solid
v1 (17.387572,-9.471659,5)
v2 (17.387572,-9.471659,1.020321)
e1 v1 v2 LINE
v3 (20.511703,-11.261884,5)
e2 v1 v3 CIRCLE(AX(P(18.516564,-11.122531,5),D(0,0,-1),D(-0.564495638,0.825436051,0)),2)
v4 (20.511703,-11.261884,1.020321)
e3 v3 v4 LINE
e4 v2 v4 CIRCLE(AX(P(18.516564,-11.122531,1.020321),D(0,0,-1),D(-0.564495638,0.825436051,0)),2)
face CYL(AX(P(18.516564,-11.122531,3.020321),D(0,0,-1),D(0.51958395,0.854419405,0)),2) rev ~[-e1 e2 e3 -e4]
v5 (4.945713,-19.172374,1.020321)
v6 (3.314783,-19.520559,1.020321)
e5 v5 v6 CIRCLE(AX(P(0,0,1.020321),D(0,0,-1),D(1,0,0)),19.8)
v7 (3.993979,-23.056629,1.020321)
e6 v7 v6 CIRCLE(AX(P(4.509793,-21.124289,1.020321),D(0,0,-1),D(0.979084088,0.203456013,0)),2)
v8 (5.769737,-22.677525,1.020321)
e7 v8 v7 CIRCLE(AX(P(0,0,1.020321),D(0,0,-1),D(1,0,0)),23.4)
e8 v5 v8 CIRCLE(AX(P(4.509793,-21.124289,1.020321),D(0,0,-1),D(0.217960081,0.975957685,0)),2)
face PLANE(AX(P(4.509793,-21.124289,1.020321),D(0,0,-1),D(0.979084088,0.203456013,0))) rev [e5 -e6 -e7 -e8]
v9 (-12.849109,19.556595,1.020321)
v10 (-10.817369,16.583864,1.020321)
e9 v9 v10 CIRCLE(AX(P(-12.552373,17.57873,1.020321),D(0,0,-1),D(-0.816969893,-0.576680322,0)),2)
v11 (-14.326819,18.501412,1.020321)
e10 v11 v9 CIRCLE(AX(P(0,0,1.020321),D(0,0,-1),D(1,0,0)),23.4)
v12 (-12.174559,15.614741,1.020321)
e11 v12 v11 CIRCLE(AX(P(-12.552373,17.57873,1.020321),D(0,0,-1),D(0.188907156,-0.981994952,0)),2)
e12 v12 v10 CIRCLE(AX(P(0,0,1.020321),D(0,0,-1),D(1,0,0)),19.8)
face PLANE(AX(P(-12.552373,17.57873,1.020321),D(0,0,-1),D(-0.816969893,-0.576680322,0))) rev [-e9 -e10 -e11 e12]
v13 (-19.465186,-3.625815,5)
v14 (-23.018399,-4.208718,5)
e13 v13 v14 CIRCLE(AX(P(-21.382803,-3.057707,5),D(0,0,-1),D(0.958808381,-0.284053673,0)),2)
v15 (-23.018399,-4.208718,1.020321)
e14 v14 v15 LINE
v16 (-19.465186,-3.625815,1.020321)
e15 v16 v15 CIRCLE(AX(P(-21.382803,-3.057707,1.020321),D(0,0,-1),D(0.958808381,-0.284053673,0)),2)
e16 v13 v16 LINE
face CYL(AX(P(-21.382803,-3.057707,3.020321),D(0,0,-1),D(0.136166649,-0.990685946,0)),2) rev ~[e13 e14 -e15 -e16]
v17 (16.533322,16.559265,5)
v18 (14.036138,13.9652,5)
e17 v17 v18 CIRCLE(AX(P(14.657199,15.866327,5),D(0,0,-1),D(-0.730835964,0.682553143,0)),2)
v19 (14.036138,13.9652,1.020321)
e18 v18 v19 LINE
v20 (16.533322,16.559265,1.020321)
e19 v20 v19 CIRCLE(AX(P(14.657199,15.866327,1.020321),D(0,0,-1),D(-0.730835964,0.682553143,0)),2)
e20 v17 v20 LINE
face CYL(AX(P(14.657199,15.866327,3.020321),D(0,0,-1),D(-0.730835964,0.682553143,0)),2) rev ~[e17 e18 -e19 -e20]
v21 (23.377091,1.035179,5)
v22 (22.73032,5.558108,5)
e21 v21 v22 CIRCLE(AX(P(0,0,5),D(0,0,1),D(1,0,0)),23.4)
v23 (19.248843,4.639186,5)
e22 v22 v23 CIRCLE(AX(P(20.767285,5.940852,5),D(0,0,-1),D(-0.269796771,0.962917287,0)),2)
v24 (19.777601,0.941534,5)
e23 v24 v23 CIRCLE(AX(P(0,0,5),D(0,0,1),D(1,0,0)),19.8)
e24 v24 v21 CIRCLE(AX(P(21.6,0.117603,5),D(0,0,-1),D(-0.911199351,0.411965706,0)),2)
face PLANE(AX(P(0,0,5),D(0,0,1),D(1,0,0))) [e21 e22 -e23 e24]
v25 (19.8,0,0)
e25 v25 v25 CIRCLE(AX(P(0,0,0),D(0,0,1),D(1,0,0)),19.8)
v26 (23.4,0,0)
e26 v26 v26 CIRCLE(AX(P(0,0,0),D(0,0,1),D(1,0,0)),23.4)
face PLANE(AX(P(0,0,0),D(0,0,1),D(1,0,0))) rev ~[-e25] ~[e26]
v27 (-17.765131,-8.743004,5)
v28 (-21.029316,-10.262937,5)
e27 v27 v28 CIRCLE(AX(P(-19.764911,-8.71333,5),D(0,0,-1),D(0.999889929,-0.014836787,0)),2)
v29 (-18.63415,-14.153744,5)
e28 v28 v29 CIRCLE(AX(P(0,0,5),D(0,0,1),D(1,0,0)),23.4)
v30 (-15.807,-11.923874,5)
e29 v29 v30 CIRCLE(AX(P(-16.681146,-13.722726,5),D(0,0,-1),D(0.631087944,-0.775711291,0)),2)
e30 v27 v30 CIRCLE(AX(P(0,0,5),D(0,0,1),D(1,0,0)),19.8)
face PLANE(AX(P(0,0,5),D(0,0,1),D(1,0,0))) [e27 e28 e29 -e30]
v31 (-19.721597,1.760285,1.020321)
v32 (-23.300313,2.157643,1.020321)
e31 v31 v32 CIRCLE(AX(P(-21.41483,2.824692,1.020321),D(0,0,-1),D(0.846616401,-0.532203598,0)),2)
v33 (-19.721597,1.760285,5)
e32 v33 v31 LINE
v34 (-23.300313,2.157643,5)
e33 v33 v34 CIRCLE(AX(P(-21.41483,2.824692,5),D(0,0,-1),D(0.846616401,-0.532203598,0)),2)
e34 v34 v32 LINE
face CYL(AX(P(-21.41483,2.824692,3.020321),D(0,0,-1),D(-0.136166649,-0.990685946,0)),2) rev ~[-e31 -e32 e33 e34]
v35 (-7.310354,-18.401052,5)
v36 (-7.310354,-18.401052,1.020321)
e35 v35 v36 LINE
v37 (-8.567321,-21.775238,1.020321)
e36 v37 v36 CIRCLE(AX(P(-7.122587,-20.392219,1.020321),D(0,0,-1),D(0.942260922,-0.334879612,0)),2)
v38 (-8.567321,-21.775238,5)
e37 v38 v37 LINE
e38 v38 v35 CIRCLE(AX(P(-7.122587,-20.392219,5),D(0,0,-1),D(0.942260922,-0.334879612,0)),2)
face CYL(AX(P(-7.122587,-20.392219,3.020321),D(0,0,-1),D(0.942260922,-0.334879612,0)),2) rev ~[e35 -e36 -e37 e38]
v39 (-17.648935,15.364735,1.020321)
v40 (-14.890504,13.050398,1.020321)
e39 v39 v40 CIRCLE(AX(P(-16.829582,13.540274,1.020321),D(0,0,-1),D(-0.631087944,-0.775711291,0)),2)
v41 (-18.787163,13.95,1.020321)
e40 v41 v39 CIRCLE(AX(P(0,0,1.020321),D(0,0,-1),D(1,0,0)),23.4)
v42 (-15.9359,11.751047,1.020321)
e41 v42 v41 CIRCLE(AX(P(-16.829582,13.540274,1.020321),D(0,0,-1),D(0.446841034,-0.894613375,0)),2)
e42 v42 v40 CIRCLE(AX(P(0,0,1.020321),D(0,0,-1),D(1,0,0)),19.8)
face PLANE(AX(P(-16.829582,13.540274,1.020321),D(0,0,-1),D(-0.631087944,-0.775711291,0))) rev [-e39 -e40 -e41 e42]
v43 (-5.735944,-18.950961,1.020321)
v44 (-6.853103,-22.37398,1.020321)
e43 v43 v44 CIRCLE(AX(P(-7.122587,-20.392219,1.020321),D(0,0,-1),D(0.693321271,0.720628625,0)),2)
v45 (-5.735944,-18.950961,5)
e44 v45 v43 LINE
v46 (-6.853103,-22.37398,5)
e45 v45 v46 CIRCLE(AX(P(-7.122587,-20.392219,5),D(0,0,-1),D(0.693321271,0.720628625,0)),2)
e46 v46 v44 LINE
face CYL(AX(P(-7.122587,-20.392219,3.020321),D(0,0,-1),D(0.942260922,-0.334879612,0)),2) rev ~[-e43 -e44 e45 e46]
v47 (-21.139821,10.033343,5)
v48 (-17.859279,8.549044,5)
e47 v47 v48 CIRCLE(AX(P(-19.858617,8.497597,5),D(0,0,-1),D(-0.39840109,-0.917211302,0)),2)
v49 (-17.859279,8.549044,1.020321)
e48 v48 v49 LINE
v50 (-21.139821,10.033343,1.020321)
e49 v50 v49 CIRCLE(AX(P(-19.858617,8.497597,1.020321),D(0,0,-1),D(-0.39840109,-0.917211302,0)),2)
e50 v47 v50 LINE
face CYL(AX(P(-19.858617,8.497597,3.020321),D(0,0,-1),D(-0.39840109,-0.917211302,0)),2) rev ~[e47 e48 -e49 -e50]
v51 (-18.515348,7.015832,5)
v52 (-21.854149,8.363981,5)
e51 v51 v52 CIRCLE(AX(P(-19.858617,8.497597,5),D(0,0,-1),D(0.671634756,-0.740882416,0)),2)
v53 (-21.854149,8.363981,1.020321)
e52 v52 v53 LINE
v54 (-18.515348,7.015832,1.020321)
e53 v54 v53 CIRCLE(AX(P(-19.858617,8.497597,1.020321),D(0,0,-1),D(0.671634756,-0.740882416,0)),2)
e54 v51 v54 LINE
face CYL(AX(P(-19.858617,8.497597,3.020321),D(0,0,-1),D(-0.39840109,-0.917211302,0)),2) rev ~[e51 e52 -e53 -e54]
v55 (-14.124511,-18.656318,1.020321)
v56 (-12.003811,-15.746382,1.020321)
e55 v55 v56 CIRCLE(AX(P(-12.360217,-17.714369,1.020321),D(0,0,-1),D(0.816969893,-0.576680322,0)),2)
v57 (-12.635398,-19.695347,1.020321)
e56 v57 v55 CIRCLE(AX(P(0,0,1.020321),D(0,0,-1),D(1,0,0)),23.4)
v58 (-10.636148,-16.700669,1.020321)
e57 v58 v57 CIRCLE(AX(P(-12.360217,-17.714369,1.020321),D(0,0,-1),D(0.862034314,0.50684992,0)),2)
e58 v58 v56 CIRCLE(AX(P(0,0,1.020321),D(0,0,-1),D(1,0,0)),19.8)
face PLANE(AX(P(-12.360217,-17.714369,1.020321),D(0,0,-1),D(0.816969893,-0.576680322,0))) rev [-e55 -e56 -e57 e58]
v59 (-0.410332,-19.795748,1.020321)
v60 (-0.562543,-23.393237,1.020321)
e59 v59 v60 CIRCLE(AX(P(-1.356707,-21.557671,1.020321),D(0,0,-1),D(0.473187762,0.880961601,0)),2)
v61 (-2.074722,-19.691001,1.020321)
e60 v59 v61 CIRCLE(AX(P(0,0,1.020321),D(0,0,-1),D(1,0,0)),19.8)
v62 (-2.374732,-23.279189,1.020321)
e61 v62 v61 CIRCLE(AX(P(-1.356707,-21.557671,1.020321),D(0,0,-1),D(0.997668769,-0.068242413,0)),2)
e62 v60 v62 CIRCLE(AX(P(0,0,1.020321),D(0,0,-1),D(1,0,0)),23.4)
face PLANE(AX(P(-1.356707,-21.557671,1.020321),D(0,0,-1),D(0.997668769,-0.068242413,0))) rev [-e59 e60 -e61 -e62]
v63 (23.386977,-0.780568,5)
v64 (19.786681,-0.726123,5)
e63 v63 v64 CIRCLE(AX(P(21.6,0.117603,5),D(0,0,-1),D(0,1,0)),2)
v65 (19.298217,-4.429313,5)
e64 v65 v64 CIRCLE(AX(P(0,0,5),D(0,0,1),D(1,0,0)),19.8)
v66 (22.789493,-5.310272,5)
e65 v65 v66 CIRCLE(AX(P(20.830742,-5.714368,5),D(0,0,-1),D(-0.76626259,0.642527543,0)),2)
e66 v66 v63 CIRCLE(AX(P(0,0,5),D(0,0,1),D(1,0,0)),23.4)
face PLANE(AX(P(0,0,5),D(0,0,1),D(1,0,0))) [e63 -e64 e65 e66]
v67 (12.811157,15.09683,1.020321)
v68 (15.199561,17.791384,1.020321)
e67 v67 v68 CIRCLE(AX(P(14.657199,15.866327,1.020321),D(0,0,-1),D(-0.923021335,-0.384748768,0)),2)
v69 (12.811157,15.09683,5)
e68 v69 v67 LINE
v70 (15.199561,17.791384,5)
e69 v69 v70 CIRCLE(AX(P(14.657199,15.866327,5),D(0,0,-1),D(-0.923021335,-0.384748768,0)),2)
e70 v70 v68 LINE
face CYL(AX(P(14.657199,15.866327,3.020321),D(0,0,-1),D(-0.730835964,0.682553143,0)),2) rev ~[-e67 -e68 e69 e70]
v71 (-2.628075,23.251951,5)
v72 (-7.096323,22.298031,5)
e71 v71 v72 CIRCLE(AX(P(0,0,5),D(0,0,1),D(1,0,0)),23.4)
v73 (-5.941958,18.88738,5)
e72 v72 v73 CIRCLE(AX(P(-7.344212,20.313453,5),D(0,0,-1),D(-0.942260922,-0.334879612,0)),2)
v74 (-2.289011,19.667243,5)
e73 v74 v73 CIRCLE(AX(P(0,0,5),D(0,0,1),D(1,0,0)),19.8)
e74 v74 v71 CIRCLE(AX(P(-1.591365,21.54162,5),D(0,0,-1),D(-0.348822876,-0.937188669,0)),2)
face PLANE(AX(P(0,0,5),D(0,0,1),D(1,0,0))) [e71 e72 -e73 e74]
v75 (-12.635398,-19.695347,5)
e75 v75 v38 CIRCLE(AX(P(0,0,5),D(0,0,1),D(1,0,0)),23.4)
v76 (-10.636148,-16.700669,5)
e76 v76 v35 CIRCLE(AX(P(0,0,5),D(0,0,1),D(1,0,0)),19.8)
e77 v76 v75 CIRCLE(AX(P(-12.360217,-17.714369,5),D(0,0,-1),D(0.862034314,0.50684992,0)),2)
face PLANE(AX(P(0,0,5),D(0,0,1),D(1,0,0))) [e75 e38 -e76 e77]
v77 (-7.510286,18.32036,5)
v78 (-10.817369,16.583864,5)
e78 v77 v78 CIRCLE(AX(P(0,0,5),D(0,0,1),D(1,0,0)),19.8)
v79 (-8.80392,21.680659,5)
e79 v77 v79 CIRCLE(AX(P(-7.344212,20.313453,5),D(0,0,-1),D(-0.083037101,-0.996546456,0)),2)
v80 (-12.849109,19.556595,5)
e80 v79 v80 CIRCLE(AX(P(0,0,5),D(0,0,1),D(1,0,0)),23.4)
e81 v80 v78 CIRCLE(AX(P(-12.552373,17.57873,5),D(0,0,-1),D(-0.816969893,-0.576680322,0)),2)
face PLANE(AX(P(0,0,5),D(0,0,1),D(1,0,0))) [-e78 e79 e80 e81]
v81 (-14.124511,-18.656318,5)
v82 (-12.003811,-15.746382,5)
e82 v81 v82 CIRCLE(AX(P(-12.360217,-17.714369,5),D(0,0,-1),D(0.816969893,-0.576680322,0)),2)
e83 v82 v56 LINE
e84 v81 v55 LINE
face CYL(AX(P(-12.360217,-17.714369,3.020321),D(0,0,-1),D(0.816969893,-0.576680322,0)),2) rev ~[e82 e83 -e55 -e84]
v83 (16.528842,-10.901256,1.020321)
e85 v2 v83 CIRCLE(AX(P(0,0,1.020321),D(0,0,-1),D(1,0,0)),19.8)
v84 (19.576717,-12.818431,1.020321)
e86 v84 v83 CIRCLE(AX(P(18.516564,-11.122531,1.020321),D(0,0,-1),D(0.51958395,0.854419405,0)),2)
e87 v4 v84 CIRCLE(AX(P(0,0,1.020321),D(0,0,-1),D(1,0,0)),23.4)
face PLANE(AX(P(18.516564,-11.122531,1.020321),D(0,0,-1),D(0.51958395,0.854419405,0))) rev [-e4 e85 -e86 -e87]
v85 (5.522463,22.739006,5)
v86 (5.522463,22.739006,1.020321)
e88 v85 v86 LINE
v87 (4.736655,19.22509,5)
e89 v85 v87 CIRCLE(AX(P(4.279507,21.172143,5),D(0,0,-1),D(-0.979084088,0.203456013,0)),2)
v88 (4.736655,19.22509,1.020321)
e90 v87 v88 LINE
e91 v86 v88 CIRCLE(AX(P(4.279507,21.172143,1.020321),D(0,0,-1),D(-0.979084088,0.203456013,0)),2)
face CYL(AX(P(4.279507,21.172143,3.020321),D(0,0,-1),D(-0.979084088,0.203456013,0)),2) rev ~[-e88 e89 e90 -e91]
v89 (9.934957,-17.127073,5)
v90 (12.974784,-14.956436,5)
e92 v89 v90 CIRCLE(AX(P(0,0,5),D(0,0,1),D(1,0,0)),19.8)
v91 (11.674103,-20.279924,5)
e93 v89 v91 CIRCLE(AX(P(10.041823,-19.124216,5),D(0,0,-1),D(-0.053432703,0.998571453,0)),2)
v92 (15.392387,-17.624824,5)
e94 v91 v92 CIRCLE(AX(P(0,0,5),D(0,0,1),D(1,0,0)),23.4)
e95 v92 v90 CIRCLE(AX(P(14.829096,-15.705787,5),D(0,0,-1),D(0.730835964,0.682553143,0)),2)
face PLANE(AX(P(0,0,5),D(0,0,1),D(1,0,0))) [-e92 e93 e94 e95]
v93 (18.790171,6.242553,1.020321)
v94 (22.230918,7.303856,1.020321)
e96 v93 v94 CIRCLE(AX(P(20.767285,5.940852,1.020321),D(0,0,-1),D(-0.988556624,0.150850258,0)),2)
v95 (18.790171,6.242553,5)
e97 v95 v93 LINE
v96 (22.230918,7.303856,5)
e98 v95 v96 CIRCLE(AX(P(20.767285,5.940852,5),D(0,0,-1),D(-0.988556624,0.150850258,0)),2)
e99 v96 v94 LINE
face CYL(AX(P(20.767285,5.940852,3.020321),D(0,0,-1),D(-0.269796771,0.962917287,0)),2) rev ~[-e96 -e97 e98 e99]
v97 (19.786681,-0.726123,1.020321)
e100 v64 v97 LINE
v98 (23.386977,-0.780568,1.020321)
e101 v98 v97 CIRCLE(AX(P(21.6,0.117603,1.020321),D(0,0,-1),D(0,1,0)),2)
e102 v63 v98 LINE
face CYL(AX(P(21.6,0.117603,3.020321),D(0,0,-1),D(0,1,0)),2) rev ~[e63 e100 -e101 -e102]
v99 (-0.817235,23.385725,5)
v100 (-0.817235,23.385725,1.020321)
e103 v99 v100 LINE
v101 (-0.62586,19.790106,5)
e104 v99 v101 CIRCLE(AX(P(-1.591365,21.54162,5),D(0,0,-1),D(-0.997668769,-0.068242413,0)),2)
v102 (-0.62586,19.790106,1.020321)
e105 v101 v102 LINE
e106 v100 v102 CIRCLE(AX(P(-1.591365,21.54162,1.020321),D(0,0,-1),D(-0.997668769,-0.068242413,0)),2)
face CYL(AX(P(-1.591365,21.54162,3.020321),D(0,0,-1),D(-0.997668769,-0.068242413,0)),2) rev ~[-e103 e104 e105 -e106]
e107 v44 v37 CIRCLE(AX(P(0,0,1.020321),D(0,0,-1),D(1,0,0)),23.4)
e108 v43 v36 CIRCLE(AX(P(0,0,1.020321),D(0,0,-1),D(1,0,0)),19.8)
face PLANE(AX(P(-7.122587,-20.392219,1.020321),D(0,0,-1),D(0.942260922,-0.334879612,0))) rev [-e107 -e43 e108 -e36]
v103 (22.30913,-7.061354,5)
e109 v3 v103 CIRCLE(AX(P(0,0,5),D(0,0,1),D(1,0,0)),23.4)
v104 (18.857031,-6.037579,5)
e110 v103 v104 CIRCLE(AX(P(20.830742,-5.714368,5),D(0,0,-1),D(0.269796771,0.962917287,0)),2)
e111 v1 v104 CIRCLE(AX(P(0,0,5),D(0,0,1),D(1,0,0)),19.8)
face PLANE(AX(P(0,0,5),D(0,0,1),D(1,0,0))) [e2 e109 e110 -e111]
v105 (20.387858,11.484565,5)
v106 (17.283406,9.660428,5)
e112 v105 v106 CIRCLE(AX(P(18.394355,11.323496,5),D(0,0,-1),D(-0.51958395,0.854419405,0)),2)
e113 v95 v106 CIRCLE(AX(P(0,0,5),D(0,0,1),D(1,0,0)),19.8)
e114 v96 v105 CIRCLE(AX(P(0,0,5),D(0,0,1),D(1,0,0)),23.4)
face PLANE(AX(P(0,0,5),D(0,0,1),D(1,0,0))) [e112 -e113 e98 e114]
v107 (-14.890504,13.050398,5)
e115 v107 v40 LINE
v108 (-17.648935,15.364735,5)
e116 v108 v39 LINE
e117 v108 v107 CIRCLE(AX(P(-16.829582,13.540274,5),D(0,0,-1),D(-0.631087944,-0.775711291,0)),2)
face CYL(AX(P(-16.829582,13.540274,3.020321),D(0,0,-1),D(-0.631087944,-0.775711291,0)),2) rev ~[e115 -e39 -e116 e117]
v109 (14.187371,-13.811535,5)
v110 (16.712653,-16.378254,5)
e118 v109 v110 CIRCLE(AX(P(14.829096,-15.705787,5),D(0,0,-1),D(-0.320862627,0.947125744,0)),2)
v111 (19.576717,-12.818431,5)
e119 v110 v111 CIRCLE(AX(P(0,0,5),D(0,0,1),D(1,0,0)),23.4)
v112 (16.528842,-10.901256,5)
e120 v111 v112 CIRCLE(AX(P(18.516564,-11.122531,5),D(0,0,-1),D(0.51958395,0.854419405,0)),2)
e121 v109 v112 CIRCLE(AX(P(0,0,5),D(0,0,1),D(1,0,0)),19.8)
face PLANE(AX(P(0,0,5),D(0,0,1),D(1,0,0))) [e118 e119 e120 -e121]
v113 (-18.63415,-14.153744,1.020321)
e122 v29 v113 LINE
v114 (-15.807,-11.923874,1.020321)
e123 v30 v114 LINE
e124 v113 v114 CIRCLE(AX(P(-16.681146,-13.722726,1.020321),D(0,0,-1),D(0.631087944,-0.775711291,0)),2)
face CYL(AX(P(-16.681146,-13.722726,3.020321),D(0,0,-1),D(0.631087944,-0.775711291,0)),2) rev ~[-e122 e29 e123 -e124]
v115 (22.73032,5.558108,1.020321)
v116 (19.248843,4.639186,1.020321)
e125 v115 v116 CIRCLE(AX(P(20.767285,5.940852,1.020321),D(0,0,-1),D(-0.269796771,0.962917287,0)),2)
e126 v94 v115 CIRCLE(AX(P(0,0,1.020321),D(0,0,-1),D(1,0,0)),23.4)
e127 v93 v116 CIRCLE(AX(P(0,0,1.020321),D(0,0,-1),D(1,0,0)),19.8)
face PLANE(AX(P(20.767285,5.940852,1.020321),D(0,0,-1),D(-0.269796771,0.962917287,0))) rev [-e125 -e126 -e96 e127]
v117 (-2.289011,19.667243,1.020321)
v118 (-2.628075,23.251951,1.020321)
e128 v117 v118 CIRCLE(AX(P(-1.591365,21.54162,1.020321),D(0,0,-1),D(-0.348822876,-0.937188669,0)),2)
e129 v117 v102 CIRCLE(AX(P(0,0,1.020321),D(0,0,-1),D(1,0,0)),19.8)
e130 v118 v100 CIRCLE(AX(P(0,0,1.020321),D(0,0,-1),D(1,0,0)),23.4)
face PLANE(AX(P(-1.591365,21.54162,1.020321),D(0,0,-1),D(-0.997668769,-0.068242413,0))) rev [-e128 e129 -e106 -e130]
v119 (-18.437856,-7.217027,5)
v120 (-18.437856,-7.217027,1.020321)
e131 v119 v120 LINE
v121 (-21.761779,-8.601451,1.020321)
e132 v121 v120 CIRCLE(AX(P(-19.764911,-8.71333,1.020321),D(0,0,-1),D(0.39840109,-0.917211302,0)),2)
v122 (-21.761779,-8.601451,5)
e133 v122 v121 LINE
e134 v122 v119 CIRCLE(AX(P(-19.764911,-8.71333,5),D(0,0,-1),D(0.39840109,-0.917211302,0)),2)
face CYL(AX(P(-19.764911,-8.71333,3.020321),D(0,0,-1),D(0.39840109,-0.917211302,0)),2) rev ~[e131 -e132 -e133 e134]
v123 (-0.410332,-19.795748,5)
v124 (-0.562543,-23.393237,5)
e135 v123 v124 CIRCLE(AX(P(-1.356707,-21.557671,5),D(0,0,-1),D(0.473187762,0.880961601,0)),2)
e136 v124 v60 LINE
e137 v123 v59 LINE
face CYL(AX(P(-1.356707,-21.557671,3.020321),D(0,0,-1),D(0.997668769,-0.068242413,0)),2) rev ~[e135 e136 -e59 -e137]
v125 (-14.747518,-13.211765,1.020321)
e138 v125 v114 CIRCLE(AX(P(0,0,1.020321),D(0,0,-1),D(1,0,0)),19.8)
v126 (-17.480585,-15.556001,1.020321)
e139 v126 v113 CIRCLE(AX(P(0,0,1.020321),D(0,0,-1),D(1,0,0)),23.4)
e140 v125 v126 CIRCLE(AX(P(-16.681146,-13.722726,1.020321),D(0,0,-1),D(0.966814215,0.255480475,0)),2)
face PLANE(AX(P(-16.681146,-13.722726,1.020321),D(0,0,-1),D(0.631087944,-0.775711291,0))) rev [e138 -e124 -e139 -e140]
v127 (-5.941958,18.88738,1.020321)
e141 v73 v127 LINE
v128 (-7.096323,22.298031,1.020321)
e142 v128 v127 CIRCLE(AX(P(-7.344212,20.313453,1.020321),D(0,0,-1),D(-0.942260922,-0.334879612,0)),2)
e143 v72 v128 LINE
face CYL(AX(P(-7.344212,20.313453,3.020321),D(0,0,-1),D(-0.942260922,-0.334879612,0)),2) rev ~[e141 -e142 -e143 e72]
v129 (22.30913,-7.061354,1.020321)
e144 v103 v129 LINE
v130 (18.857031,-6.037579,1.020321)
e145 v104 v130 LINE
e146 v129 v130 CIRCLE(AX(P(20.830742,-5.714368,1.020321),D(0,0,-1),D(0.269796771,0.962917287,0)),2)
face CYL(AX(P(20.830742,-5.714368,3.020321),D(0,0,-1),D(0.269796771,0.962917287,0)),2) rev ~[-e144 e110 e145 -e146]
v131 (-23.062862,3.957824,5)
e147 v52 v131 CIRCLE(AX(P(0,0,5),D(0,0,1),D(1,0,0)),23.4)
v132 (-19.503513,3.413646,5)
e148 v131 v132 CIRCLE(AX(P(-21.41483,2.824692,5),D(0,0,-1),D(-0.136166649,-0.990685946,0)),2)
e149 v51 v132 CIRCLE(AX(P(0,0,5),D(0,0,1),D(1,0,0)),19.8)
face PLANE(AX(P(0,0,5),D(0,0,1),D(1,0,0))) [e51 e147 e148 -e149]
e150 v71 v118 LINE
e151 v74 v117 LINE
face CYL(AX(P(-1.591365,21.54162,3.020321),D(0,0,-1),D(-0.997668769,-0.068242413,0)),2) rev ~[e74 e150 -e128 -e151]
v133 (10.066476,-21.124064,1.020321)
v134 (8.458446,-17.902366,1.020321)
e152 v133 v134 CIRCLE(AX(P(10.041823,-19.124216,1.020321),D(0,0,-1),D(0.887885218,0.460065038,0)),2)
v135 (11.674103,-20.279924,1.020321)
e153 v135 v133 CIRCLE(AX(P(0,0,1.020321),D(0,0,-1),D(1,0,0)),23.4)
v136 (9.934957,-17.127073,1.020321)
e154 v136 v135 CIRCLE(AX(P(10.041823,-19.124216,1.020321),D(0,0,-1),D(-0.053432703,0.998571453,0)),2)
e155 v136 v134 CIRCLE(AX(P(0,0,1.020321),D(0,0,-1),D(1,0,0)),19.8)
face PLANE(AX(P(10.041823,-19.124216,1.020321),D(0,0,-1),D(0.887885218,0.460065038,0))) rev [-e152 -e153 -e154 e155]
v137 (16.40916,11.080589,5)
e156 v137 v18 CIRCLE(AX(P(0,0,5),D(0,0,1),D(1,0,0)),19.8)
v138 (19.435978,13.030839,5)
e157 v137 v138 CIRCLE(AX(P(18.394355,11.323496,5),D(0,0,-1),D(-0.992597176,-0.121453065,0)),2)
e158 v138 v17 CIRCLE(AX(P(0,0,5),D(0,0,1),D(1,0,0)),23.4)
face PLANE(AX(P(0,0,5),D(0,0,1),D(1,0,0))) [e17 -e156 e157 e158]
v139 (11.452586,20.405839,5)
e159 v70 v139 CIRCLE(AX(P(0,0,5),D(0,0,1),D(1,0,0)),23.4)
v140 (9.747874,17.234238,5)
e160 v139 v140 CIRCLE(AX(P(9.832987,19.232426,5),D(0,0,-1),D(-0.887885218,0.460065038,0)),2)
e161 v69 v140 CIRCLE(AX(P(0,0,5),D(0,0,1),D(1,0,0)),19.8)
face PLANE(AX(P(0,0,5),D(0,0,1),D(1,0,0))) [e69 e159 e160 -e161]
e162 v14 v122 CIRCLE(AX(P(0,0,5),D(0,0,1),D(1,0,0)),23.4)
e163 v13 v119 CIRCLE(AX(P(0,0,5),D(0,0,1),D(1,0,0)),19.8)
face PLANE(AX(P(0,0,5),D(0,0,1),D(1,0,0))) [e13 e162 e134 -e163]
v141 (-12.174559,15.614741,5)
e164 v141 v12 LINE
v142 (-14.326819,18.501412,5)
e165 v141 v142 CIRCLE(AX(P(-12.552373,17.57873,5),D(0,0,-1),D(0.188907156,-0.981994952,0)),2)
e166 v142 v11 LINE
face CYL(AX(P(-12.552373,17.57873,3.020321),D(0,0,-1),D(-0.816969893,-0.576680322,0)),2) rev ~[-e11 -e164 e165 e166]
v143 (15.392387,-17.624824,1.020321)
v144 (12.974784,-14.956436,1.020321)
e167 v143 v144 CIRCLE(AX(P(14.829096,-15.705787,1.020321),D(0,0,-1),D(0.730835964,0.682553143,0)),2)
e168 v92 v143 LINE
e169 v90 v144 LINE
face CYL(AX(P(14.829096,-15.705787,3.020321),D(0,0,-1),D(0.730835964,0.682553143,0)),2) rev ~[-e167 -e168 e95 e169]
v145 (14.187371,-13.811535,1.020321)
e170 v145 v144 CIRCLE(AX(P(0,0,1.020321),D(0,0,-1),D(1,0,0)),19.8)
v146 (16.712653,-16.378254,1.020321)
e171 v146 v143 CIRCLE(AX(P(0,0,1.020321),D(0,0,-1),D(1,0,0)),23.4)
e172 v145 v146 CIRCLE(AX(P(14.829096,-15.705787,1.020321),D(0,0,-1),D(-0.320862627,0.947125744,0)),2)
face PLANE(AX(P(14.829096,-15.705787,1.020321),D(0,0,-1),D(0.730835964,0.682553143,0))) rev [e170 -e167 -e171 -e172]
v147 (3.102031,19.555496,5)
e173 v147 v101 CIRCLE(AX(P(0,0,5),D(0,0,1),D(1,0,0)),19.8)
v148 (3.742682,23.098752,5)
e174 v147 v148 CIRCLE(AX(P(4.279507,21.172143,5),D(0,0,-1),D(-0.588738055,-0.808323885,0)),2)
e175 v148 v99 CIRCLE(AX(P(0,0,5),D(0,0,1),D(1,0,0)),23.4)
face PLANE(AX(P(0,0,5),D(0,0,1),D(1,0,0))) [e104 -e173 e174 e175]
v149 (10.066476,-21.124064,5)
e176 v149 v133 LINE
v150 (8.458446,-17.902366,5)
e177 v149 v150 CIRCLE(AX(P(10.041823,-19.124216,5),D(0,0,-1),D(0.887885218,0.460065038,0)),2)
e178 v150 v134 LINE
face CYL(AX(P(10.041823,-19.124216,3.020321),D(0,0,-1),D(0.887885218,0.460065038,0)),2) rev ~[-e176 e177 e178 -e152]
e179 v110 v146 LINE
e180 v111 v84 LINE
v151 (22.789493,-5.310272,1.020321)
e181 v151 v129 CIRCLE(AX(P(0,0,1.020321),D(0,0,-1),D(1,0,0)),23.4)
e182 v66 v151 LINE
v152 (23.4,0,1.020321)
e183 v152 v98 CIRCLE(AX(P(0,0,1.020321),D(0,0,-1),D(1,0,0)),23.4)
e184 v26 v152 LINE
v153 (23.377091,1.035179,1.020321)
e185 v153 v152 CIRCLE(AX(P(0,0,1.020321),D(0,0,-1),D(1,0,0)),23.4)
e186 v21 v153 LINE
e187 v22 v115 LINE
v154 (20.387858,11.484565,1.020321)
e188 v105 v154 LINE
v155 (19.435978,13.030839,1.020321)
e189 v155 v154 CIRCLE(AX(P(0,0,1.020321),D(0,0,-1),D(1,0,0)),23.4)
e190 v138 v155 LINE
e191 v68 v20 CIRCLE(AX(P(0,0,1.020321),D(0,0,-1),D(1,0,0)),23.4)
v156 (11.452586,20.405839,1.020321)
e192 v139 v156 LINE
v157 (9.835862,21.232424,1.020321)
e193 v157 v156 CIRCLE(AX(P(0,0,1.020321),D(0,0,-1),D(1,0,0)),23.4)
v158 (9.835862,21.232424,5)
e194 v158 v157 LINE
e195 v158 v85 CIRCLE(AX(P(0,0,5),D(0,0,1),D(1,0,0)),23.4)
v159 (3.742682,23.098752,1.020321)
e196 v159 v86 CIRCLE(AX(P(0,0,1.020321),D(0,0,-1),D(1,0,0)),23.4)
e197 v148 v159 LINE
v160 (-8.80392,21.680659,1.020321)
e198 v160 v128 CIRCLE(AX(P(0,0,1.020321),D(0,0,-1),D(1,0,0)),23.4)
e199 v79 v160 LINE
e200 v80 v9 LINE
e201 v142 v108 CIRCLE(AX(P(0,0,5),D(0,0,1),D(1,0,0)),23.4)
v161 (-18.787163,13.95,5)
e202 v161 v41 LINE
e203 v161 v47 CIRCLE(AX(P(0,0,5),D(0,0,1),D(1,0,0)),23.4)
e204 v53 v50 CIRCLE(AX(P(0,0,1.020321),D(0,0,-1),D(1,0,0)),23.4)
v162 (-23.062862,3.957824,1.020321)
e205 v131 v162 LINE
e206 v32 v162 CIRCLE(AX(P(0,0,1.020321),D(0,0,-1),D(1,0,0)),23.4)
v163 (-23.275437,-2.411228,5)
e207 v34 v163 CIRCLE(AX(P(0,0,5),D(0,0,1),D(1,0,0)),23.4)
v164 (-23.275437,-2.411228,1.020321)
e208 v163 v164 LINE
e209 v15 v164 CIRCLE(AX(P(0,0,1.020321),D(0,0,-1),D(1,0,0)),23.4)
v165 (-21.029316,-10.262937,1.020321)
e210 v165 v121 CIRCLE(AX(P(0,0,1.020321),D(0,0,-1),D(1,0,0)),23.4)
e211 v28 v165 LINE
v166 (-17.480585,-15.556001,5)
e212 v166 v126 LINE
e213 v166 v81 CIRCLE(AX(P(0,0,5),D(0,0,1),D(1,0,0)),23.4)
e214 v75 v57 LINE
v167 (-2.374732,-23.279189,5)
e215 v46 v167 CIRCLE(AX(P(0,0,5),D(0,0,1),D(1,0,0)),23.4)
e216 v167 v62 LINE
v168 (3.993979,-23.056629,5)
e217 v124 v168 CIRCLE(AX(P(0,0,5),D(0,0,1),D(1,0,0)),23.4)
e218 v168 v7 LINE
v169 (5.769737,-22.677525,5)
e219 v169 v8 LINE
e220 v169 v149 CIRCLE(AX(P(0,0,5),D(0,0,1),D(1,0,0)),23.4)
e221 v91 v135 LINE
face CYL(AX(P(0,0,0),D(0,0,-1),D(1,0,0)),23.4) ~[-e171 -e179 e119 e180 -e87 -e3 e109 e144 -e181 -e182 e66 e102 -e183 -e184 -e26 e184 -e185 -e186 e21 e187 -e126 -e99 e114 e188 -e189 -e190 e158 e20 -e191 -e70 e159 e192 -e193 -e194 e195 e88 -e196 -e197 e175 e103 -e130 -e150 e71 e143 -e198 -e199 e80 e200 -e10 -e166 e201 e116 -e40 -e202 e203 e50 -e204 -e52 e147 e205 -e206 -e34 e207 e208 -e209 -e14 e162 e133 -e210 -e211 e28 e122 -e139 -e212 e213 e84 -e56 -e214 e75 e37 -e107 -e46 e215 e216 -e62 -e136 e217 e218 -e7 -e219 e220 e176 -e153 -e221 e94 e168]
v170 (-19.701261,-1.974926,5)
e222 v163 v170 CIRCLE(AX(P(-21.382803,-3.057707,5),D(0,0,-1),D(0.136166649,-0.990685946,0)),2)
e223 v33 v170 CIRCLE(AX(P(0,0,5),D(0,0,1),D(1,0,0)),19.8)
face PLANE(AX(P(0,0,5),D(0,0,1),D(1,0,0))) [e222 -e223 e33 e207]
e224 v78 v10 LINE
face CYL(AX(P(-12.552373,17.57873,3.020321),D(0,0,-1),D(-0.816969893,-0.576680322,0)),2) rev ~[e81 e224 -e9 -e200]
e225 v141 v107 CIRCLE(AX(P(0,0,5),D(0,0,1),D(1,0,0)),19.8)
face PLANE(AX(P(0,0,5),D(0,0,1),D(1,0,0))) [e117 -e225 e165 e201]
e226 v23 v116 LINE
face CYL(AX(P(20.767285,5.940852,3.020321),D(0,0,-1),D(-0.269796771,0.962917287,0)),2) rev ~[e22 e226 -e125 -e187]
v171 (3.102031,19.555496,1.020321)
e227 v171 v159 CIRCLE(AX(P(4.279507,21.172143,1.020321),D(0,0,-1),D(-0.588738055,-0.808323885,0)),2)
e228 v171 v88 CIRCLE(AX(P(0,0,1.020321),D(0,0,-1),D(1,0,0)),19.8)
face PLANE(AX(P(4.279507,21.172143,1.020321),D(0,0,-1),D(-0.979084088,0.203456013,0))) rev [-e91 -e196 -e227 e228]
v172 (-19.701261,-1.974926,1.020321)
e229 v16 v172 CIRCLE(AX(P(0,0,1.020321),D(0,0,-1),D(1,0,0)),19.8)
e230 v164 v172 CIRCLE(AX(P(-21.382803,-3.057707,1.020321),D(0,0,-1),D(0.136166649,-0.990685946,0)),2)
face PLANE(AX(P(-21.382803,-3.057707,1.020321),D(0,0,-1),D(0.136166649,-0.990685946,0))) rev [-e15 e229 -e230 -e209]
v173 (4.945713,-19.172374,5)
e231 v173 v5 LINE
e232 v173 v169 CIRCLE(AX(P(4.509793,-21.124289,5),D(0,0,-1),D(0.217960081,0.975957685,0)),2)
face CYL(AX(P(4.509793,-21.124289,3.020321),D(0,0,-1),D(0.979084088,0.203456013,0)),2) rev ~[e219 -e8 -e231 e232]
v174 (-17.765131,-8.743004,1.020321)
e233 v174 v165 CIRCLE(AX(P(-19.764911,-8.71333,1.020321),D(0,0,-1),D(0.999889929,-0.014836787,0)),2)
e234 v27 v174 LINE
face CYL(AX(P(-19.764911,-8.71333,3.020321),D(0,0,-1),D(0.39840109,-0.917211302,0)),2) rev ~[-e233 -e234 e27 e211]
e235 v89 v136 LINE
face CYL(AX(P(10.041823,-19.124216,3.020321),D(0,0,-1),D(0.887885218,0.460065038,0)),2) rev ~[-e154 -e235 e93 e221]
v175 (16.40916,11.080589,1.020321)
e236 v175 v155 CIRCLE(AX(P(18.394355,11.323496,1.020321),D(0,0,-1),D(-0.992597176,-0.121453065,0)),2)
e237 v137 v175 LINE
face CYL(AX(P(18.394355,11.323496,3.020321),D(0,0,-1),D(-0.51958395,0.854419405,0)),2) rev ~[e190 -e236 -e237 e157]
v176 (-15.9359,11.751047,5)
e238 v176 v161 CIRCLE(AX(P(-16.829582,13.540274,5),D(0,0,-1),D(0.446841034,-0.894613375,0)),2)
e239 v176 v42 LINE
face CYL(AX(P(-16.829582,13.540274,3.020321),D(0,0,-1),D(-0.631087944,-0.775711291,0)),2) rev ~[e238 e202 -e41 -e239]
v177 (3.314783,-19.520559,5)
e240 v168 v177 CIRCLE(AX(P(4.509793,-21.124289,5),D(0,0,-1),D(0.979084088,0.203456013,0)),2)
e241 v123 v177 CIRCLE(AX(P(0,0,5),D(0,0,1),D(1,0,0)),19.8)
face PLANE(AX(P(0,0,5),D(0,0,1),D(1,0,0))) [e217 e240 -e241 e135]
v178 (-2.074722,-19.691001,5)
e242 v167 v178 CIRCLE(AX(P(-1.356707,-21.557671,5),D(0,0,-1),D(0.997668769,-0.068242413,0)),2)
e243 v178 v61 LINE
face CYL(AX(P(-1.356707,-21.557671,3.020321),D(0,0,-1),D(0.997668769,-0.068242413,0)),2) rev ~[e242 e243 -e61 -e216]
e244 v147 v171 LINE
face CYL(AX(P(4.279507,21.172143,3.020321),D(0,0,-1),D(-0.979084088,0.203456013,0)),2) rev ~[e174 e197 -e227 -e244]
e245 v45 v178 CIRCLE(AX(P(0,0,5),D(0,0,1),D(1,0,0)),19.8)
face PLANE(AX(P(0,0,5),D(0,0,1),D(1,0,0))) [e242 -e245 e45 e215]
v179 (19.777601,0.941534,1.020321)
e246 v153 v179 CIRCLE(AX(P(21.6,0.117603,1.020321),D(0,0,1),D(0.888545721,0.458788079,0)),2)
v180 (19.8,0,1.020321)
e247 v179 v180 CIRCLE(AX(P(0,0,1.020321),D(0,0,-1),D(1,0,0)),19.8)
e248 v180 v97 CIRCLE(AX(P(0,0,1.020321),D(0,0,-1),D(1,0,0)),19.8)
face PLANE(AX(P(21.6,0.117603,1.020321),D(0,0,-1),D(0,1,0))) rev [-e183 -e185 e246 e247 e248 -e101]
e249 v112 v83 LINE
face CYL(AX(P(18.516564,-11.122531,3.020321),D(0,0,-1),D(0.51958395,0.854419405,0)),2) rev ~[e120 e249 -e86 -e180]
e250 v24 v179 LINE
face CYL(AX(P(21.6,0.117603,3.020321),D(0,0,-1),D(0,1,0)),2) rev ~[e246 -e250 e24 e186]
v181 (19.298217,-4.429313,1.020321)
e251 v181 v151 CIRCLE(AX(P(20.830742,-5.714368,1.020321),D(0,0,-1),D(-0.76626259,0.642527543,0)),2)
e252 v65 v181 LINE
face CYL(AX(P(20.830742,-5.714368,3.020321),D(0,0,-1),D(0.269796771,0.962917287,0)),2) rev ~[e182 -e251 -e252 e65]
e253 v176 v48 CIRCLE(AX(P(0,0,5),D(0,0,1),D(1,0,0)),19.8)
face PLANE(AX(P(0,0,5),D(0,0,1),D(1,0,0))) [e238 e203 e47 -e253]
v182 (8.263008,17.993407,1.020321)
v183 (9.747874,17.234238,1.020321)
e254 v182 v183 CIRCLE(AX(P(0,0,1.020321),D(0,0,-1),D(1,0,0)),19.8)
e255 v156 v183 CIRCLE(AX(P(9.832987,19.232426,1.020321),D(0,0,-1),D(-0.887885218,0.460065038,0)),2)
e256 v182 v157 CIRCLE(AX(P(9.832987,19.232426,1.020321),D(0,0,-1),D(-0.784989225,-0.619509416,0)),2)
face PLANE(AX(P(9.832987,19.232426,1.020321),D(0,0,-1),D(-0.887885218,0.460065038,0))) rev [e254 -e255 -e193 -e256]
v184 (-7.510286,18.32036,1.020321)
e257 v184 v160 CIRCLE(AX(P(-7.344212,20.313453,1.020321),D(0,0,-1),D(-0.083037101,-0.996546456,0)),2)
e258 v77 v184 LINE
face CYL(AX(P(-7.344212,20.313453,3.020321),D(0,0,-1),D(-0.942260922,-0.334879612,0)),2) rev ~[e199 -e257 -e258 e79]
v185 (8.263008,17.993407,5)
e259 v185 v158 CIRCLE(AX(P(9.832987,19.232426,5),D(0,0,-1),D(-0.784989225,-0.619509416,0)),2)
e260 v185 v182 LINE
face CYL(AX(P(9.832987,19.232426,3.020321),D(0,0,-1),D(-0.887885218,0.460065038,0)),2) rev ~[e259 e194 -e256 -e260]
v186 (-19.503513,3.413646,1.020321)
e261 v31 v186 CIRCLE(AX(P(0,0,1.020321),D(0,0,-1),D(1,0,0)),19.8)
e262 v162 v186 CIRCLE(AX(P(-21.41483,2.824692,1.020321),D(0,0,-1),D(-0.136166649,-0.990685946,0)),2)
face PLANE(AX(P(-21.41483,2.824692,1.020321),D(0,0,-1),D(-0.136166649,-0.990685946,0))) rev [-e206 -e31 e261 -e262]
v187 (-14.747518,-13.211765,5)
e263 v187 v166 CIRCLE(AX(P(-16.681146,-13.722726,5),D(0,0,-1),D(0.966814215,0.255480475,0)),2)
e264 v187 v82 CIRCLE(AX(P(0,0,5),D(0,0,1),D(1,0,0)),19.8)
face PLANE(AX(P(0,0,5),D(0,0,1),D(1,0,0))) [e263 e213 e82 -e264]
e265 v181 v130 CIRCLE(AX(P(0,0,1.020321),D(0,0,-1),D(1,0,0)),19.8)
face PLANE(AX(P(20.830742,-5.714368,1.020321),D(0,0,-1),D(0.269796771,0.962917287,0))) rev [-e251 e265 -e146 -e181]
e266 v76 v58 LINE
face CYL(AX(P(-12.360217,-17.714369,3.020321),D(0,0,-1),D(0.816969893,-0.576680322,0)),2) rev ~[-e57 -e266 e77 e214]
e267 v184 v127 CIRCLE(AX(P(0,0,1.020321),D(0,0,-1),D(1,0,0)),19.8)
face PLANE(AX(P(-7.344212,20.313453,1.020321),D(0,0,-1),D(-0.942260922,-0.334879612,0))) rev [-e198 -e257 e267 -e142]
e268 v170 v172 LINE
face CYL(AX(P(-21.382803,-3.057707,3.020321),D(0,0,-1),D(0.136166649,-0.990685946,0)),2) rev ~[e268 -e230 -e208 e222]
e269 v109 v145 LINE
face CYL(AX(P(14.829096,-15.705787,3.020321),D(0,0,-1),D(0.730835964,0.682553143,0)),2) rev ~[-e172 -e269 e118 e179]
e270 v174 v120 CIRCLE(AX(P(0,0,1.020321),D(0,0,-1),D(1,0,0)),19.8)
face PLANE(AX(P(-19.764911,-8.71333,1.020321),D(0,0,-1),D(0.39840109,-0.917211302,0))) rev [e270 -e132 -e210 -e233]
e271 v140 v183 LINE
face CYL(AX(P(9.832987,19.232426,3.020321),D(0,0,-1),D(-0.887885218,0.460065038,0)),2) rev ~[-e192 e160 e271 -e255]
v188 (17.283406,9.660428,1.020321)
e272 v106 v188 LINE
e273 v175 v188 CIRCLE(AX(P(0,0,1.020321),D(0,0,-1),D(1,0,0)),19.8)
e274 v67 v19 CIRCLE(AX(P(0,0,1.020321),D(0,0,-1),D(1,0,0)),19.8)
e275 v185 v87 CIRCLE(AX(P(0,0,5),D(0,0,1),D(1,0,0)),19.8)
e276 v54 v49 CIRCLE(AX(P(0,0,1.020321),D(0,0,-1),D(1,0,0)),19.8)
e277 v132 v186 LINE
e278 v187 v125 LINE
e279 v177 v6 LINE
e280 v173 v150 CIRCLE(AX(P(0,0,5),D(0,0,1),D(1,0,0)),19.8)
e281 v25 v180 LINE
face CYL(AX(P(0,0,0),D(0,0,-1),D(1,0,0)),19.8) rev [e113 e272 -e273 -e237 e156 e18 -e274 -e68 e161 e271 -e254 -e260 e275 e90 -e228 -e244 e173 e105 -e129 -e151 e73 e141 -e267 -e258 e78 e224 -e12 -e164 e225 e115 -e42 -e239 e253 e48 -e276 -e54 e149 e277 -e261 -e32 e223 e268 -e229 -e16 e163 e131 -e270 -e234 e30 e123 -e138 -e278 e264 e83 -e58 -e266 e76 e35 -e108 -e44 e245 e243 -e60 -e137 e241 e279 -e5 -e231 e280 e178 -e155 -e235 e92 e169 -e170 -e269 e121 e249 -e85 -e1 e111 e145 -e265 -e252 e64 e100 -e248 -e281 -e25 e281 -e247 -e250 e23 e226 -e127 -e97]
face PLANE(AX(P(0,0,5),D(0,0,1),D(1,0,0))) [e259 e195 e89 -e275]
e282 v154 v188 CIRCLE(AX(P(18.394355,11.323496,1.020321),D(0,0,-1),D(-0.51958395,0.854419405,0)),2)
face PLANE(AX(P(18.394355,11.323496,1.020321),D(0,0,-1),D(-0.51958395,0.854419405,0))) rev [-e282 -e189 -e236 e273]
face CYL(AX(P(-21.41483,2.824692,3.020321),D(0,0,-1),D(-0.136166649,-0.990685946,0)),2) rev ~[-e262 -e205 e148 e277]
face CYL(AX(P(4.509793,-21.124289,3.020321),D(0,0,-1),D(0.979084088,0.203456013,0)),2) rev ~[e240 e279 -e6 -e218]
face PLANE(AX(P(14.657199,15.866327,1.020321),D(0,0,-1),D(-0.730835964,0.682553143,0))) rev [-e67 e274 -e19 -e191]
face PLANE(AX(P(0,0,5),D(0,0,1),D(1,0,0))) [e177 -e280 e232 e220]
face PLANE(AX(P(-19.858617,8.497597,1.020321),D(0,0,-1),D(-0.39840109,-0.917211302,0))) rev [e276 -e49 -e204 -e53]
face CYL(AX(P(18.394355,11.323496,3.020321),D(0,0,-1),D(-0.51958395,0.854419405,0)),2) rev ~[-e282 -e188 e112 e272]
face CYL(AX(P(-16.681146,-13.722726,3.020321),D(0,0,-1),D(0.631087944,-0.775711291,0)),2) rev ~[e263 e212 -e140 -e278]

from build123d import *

# Parameters (mm, degrees)
SKETCH_1_R               = 23.4
SKETCH_1_R_2             = 19.8
EXTRUDE_1_DEPTH          = 5
SKETCH_2_W               = 4
SKETCH_2_H               = 2
PATTERN_CIRCULAR_1_COUNT = 23


with BuildPart() as part:
    # 草图1 → 凸台-拉伸1 (new body)
    with BuildSketch(Plane.XY):
        Circle(SKETCH_1_R)
        Circle(SKETCH_1_R_2, mode=Mode.SUBTRACT)
    extrude(amount=EXTRUDE_1_DEPTH)

    # 草图2 → 切除-旋转1 (revolve, cut)
    with BuildSketch(Plane(origin=(21.6, 0, 0), x_dir=(0, 0, -1), z_dir=(1, 0, 0))):
        with Locations((-3.020321316, 1.11760291)):
            Rectangle(SKETCH_2_W, SKETCH_2_H)
    cut_revolve_1 = revolve(axis=Axis((21.6, 0.11760291, 5.020321316), (0, 0, -1)), mode=Mode.SUBTRACT)

    # 阵列(圆周)1: 切除-旋转1 ×23 about axis
    pattern_circular_1_axis = Axis((0, 0, 0), (0, 0, 1))
    for i in range(1, PATTERN_CIRCULAR_1_COUNT):
        add(cut_revolve_1.rotate(pattern_circular_1_axis, i * 360 / PATTERN_CIRCULAR_1_COUNT), mode=Mode.SUBTRACT)


solid = part.part
